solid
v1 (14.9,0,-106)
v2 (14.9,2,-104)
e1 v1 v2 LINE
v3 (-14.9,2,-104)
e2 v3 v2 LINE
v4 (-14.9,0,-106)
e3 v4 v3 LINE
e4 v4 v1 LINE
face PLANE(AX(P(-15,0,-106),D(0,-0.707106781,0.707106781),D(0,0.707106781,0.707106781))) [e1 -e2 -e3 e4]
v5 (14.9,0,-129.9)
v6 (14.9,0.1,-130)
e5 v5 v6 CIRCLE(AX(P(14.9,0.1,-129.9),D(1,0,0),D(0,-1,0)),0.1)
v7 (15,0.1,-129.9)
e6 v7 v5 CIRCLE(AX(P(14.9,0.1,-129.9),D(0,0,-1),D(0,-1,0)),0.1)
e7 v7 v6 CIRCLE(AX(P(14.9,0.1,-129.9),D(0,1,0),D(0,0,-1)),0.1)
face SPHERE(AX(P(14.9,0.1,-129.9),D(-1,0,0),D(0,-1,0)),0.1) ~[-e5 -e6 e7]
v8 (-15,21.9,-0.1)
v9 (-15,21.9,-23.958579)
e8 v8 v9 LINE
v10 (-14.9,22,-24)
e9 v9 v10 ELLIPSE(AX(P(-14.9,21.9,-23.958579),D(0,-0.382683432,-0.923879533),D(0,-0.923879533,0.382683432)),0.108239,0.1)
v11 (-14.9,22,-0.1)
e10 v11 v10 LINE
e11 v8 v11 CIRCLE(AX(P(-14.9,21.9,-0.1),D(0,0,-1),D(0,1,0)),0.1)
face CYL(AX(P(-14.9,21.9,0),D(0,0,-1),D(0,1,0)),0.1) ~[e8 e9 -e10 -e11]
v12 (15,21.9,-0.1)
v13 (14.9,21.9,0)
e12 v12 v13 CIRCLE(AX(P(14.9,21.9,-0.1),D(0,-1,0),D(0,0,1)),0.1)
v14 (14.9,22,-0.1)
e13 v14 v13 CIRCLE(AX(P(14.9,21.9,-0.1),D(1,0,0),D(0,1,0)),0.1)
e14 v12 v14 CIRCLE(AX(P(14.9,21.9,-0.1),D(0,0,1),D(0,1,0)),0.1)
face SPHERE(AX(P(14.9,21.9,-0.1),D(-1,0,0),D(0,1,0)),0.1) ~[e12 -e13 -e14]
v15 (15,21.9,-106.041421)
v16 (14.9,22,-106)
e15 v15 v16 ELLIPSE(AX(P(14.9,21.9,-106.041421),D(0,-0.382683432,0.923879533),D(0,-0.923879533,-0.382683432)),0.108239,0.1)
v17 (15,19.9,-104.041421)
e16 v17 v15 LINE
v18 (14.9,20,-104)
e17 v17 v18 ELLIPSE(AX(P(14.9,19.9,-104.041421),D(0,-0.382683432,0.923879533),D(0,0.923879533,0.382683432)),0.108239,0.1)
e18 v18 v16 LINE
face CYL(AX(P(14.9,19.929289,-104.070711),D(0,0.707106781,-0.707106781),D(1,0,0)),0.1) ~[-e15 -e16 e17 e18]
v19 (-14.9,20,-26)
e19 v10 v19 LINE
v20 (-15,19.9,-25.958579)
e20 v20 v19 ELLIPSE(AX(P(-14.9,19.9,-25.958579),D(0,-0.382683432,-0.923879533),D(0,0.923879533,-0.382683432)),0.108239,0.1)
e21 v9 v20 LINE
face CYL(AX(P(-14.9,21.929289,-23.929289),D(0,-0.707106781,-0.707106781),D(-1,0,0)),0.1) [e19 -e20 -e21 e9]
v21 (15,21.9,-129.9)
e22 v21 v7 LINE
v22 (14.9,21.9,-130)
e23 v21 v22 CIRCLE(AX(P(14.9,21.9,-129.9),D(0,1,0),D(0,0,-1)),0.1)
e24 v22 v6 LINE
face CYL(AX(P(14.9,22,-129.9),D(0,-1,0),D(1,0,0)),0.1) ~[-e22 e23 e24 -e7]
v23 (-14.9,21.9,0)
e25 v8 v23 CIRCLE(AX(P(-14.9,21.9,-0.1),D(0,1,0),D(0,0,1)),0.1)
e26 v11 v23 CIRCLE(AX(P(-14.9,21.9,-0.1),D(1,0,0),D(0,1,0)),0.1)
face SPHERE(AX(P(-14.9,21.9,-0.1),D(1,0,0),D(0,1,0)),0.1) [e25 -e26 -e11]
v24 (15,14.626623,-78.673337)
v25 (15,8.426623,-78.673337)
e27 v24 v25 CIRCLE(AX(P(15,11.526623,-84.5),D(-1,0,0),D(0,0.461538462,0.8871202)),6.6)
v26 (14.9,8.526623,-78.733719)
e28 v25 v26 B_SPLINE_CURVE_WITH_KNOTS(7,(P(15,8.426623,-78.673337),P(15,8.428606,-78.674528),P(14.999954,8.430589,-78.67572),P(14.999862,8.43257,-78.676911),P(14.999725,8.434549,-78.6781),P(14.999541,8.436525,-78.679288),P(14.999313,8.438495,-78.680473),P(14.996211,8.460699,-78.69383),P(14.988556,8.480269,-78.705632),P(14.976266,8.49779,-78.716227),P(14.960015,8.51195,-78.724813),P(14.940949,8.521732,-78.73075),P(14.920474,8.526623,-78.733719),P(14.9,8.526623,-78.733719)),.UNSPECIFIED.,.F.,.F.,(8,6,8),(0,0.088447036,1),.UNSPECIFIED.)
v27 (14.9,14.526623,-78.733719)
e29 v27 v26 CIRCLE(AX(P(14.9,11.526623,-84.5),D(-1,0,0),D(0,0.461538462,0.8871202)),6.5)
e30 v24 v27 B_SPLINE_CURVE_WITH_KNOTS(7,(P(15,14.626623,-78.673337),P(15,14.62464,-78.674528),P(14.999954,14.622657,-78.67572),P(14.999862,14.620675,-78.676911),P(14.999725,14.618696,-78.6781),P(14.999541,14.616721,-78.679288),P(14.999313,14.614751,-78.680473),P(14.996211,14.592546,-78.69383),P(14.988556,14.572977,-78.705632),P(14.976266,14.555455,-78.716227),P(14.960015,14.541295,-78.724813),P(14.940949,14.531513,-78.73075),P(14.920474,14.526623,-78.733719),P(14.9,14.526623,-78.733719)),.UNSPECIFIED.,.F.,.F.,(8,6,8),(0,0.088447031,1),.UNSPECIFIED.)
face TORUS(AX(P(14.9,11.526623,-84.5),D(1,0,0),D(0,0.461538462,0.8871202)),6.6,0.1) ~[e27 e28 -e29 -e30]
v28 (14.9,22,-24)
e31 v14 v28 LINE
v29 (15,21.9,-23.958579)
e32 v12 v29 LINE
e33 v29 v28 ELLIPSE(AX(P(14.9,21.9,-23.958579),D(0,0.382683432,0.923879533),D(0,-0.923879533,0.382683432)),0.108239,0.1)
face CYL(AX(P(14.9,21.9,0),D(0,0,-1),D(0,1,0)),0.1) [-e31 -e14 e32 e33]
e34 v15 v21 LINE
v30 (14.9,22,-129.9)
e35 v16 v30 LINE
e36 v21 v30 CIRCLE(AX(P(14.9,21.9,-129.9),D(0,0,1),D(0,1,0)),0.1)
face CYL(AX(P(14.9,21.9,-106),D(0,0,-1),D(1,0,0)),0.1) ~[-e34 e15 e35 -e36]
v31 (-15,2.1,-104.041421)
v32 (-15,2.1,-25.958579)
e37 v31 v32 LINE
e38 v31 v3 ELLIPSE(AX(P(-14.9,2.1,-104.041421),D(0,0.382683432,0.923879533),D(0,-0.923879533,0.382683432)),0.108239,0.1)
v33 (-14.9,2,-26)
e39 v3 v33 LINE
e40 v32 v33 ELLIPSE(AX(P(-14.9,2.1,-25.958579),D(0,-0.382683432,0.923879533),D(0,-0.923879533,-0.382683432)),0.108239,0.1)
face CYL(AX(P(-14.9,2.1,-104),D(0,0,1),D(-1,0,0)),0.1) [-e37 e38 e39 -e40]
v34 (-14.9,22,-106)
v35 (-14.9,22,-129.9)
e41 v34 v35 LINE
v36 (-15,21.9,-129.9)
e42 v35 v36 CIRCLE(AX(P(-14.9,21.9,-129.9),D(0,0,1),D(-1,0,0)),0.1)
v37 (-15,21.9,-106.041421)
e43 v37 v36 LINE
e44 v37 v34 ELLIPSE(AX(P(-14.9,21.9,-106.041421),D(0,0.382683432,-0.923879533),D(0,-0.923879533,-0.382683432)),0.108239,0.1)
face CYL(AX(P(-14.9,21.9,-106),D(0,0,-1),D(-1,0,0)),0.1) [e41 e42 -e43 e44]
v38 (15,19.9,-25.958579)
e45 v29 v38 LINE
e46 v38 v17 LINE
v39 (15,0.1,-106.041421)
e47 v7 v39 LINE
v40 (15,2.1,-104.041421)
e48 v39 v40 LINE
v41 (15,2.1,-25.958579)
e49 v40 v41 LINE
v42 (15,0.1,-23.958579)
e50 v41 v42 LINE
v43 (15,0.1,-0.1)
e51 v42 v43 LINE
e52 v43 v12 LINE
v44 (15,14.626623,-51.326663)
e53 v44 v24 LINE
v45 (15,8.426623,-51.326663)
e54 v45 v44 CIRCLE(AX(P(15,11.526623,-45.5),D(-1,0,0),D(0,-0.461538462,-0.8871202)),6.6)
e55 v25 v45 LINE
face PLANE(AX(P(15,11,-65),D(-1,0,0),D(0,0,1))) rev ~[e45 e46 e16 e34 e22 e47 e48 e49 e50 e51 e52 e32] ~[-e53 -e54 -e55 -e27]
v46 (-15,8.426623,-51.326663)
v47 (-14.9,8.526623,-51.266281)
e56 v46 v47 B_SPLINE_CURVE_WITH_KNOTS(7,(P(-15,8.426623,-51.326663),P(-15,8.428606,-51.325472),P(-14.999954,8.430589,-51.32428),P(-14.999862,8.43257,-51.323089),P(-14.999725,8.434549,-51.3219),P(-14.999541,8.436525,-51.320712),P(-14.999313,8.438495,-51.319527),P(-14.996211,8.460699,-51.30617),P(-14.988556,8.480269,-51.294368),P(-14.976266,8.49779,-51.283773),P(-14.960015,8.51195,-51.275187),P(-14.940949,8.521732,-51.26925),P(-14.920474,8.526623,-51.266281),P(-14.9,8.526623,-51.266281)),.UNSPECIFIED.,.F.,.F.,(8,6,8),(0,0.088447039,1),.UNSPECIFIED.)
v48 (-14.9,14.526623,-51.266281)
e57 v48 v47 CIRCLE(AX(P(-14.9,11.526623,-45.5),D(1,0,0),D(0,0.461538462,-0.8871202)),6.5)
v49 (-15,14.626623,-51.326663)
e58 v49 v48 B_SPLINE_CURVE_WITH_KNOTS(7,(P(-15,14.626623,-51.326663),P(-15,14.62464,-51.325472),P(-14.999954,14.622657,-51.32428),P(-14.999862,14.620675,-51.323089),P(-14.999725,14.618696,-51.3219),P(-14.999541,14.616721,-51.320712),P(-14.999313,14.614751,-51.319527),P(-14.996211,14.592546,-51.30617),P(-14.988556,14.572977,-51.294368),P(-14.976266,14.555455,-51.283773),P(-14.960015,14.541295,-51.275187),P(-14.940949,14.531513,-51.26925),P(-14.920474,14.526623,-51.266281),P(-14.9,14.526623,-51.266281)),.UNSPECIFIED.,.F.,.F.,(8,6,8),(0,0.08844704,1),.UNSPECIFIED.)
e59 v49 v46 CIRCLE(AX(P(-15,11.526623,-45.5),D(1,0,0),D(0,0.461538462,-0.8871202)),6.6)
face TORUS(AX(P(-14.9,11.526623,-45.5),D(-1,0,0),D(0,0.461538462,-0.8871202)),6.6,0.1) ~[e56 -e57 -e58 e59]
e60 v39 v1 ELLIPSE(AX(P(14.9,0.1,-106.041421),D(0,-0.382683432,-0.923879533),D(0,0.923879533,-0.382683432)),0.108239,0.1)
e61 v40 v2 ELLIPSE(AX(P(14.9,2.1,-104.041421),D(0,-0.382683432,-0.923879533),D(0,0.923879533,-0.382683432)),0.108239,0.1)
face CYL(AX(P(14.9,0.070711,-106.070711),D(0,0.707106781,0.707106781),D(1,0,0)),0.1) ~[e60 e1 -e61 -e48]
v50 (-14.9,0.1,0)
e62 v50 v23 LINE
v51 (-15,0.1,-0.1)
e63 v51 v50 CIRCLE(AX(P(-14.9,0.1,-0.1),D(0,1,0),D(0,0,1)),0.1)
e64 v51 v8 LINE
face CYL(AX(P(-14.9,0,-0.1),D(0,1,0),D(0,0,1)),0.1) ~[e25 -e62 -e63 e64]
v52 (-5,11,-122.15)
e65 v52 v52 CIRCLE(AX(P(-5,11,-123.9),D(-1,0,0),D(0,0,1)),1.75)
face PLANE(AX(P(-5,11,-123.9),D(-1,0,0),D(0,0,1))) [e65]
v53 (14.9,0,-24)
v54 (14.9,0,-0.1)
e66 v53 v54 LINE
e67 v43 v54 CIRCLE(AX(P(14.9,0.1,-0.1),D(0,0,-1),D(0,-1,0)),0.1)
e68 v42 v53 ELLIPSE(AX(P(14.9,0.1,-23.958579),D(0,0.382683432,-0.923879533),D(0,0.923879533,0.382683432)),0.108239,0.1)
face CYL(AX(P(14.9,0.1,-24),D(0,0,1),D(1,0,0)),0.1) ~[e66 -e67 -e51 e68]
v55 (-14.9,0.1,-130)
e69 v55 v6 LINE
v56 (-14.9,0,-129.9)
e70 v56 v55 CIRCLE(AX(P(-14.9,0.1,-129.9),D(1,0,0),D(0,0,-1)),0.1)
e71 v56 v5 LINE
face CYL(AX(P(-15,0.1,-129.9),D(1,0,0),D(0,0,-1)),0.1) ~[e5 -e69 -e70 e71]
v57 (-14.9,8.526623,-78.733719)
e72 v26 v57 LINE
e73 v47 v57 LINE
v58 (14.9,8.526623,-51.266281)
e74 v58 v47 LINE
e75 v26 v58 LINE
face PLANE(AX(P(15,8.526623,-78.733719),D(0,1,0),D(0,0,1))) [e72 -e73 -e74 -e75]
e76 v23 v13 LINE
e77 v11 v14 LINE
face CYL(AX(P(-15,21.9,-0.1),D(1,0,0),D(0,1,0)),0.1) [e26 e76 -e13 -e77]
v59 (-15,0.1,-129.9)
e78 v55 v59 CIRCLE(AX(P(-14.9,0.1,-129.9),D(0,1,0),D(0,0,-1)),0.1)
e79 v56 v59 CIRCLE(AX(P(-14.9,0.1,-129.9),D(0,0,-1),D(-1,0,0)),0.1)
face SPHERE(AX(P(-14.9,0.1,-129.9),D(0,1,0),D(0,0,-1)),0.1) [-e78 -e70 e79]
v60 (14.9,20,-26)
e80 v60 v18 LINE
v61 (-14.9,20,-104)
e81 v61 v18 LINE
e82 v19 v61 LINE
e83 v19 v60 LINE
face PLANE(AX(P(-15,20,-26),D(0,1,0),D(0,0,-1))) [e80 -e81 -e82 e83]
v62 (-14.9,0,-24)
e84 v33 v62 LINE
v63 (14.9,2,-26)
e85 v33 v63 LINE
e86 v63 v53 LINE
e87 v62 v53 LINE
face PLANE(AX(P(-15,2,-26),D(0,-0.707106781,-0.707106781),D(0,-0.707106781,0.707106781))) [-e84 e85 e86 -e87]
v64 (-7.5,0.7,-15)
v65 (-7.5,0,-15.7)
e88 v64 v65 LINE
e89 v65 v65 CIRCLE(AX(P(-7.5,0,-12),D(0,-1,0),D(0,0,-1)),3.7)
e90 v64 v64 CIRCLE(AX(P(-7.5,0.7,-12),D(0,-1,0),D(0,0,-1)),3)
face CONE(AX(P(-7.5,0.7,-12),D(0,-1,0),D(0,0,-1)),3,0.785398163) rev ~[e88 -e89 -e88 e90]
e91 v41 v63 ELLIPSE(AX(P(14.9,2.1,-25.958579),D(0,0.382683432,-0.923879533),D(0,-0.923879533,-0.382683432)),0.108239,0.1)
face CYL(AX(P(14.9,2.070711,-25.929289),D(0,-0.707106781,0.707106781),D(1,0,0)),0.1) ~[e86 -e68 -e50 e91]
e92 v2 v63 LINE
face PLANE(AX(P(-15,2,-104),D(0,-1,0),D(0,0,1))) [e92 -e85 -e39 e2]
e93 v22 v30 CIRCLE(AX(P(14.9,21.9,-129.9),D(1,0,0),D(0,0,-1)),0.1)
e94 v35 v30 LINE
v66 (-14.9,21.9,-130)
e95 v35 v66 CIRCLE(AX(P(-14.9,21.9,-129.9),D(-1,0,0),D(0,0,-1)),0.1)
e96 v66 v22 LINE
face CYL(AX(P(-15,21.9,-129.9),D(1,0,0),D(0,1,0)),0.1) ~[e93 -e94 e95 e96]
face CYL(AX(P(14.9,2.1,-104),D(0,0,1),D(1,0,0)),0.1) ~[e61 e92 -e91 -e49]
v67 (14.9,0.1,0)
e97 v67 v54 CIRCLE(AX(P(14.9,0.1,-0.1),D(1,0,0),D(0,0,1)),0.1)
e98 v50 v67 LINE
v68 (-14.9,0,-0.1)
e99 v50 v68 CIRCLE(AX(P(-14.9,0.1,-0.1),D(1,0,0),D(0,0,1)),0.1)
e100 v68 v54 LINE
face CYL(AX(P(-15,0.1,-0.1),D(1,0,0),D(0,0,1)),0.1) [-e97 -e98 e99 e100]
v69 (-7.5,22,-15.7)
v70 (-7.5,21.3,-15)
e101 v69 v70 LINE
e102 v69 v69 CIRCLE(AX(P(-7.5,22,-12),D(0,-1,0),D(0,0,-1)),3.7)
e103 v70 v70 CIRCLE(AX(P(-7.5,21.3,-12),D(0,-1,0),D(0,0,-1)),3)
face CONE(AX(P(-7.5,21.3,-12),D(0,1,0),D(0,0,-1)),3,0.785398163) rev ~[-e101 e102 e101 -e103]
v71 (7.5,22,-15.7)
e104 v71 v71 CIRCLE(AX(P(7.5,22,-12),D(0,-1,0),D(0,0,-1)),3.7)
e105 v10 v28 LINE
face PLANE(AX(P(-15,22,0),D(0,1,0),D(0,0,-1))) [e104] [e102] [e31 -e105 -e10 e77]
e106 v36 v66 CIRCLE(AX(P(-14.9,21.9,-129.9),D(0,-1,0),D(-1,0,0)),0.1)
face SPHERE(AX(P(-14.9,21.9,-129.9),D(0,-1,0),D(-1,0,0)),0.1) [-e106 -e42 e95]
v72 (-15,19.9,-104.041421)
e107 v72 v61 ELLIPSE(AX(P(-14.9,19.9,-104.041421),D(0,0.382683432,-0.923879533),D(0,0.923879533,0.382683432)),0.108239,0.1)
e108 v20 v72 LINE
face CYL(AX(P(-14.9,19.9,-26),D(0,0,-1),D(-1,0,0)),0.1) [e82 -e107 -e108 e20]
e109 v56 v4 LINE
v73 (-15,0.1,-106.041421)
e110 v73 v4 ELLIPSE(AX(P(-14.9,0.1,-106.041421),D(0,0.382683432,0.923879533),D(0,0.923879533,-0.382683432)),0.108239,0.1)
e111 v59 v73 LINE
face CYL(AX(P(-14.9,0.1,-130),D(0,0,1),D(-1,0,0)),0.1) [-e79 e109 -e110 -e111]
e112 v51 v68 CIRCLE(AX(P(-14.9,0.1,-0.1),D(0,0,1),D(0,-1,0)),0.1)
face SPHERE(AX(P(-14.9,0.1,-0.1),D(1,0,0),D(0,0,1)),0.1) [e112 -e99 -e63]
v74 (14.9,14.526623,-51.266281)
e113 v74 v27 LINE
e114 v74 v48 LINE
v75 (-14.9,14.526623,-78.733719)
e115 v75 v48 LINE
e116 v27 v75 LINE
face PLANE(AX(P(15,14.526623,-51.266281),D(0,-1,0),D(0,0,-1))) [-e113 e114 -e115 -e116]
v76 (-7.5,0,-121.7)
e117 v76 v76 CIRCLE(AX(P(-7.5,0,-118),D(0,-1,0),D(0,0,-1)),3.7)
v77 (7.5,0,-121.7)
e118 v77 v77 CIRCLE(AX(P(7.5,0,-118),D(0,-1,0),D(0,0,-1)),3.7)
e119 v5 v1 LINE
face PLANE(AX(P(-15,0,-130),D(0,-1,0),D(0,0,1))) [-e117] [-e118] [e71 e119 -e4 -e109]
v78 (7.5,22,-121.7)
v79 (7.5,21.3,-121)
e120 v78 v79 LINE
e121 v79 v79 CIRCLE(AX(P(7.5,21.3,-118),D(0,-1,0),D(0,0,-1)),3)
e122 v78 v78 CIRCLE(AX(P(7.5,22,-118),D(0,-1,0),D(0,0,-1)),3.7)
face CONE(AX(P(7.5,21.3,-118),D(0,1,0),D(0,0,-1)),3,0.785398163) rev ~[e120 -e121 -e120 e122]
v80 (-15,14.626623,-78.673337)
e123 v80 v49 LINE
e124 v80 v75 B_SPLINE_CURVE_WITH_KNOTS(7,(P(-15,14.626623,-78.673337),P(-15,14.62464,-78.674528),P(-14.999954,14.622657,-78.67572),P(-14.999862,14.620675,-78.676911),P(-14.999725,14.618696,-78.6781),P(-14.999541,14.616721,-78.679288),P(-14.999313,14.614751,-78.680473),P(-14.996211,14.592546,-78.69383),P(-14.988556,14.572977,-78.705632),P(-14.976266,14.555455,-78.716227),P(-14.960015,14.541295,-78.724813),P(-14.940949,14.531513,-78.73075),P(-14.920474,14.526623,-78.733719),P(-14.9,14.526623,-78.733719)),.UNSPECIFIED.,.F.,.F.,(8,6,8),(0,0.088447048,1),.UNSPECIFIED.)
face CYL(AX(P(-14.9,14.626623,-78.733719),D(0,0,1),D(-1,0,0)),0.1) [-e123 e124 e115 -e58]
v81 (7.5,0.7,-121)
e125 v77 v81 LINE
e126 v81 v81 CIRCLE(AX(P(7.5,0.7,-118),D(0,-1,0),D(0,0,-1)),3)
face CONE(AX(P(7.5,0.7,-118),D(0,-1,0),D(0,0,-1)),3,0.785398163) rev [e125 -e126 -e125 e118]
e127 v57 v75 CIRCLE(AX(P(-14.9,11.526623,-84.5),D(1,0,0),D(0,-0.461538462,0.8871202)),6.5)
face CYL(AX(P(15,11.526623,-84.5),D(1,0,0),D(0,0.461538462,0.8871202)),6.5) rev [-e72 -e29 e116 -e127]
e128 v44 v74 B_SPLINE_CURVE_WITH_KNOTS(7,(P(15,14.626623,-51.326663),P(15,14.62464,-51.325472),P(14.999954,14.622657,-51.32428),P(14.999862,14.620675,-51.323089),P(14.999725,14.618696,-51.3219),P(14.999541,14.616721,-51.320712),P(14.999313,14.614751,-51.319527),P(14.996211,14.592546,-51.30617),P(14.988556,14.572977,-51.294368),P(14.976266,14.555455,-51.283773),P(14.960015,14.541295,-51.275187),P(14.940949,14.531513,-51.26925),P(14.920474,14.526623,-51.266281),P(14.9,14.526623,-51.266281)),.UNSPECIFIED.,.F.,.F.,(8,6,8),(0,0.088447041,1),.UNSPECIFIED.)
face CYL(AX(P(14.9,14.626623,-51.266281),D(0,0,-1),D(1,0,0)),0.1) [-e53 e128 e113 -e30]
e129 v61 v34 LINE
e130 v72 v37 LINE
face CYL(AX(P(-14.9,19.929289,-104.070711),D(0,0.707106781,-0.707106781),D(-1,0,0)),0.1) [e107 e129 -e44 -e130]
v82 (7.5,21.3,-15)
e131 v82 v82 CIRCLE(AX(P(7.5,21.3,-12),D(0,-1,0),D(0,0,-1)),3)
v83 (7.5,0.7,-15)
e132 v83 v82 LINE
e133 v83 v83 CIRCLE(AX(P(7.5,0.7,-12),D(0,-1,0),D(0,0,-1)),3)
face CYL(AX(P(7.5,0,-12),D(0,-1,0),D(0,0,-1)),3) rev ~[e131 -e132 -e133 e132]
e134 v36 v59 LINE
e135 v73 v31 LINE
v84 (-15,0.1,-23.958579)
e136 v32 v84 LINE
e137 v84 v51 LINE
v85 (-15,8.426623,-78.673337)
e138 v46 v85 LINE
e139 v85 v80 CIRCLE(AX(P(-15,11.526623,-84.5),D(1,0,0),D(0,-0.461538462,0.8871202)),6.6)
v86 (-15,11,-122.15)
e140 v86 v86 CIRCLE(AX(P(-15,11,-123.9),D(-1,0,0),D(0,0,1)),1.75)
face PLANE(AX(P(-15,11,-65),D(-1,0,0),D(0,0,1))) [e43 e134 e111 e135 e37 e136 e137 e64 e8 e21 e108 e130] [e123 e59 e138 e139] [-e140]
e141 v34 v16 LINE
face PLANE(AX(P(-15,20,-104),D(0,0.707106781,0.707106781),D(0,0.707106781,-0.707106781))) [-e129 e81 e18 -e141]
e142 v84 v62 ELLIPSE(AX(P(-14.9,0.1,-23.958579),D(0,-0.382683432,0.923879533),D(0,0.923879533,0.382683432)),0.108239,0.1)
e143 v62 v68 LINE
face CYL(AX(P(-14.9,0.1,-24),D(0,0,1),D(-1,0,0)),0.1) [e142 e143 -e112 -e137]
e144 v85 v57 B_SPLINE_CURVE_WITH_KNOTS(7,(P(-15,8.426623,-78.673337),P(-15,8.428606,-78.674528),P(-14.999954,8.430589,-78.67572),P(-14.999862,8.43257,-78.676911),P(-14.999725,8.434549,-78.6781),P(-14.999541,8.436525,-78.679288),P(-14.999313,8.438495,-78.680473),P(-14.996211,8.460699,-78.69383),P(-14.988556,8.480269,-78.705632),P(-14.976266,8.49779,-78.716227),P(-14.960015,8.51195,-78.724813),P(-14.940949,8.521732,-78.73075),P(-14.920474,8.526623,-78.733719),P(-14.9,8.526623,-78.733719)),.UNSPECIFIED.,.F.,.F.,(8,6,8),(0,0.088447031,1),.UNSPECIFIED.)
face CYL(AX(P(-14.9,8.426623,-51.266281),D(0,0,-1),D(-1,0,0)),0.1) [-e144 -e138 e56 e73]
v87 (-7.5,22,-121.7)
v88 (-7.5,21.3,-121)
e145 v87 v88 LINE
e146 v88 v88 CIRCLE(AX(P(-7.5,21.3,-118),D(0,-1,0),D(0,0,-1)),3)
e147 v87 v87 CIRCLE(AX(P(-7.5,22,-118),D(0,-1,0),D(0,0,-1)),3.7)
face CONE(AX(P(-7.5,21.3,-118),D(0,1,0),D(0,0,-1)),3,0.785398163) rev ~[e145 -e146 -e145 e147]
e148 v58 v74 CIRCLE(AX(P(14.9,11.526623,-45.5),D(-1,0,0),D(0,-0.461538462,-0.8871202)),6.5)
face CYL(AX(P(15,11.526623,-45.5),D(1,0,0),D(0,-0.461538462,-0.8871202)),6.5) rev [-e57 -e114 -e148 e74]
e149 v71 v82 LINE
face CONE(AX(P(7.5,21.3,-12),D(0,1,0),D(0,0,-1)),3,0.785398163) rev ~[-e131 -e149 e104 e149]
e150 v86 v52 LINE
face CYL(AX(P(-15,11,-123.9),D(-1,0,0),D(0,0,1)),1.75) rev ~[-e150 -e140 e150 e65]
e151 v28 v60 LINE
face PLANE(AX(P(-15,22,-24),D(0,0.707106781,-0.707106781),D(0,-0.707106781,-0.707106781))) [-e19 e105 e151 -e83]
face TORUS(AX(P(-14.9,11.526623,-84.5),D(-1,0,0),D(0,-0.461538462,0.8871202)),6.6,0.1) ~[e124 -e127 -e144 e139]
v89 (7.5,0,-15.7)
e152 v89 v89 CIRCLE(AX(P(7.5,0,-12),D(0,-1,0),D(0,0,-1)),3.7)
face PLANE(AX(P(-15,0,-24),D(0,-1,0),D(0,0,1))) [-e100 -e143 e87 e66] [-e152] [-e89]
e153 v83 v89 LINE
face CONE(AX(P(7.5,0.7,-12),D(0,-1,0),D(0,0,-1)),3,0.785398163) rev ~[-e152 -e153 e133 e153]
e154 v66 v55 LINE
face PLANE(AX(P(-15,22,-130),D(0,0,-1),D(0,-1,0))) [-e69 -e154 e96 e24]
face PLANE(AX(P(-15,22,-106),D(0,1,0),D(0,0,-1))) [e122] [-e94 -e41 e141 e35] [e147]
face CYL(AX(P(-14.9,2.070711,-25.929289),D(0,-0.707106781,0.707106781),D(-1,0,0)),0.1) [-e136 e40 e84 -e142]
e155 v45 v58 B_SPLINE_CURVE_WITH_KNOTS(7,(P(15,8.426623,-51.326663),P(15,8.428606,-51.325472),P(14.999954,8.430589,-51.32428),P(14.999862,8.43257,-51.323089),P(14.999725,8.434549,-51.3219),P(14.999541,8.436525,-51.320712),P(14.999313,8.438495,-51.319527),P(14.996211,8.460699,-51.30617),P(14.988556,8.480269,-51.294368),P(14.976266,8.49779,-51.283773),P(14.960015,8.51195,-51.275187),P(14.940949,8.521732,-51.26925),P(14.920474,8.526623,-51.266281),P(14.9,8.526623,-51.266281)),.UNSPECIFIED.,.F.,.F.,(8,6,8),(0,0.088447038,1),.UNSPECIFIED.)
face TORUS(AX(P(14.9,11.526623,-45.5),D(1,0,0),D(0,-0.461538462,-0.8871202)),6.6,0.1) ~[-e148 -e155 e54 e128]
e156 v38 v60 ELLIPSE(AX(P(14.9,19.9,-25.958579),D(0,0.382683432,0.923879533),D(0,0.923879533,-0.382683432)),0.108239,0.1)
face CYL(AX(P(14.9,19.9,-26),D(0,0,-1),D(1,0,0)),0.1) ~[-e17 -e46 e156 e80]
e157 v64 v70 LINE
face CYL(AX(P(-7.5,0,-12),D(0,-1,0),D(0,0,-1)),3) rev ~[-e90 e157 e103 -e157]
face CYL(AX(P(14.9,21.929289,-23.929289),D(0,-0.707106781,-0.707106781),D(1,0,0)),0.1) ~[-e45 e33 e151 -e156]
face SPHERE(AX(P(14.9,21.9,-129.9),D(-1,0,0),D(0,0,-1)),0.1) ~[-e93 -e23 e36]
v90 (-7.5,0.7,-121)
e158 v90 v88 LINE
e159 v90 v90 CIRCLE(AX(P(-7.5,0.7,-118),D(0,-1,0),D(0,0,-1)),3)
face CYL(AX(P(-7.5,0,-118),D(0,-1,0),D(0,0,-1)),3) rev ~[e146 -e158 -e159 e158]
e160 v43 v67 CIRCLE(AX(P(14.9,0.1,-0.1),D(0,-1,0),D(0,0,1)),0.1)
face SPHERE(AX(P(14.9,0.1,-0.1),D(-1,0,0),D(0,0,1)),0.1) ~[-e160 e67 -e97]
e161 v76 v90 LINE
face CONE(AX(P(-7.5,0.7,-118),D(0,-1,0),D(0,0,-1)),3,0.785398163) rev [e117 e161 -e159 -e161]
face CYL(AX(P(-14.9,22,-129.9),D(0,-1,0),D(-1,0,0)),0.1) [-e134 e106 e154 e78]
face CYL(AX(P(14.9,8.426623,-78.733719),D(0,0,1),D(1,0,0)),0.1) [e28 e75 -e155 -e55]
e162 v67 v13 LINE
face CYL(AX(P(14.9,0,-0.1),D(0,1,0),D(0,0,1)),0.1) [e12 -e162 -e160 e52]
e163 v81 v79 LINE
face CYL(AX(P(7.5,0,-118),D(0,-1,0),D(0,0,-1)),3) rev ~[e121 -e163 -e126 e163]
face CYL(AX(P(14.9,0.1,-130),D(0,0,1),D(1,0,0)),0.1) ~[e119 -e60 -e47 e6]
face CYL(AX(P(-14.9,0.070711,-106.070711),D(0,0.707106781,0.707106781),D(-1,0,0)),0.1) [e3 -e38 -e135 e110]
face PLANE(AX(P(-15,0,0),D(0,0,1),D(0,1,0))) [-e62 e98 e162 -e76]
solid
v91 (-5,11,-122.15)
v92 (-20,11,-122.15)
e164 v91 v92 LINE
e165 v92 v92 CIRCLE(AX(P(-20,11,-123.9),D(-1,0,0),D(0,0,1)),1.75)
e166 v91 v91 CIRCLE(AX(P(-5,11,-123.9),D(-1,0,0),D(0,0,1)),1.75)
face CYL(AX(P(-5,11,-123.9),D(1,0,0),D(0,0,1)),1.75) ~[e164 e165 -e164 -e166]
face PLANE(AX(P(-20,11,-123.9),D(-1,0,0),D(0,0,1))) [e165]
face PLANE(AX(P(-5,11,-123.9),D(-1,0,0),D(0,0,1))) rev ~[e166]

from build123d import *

# Parameters (mm, degrees)
EXTRUDE_1_DEPTH      = 15
EXTRUDE_1_DEPTH_BACK = 15
CUT_EXTRUDE_1_DEPTH  = 45
SKETCH_12_R          = 3
CUT_EXTRUDE_2_DEPTH  = 40
CHAMFER_1_SIZE       = 0.7
FILLET_1_R           = 0.1
SKETCH_13_R          = 1.75
CUT_EXTRUDE_3_DEPTH  = 10
SKETCH_15_R          = 1.75
EXTRUDE_2_DEPTH      = 15


with BuildPart() as part:
    # Эскиз1 → Бобышка-Вытянуть1 (new, two sides: drawn at the far end of the back side and taken through both)
    with BuildSketch(Plane(origin=(0, 0, 0), x_dir=(0, 0, -1), z_dir=(1, 0, 0)).offset(-EXTRUDE_1_DEPTH_BACK)):
        Polygon((24, 22), (26, 20), (104, 20), (106, 22), (130, 22), (130, 0), (106, 0), (104, 2), (26, 2), (24, 0), (0, 0), (0, 22), align=None)
    extrude(amount=EXTRUDE_1_DEPTH + EXTRUDE_1_DEPTH_BACK)

    # Эскиз2 → Вырез-Вытянуть1 (cut)
    with BuildSketch(Plane(origin=(15, 0, 0), x_dir=(0, 0, -1), z_dir=(1, 0, 0))):
        with BuildLine():
            Line((51.266281297, 14.526622722), (78.733718703, 14.526622722))
            ThreePointArc((78.733718703, 14.526622722), (91, 11.526622722), (78.733718703, 8.526622722))
            Line((78.733718703, 8.526622722), (51.266281297, 8.526622722))
            ThreePointArc((51.266281297, 8.526622722), (39, 11.526622722), (51.266281297, 14.526622722))
        make_face()
    extrude(amount=-CUT_EXTRUDE_1_DEPTH, mode=Mode.SUBTRACT)

    # Эскиз12 → Вырез-Вытянуть2 (cut)
    with BuildSketch(Plane.XZ):
        with Locations((7.5, -118)):
            Circle(SKETCH_12_R)
        with Locations((-7.5, -118)):
            Circle(SKETCH_12_R)
        with Locations((7.5, -12)):
            Circle(SKETCH_12_R)
        with Locations((-7.5, -12)):
            Circle(SKETCH_12_R)
    extrude(amount=-CUT_EXTRUDE_2_DEPTH, mode=Mode.SUBTRACT)

    # Фаска1
    chamfer_1_edges = [part.edges().sort_by_distance(p)[0] for p in [
        (-10.5, 0, -118),
        (-10.5, 22, -118),
        (4.5, 0, -118),
        (4.5, 22, -118),
        (4.5, 0, -12),
        (4.5, 22, -12),
        (-10.5, 0, -12),
        (-10.5, 22, -12),
    ]]
    chamfer(chamfer_1_edges, length=CHAMFER_1_SIZE)

    # Скругление1
    fillet_1_edges = [part.edges().sort_by_distance(p)[0] for p in [
        (-15, 0, -118),
        (-15, 22, -118),
        (-15, 21, -105),
        (-15, 20, -65),
        (-15, 21, -25),
        (-15, 22, -12),
        (-15, 0, -12),
        (-15, 1, -25),
        (-15, 2, -65),
        (-15, 1, -105),
        (-15, 11.526622722, -39),
        (-15, 14.526622722, -65),
        (-15, 11.526622722, -91),
        (-15, 8.526622722, -65),
        (-15, 11, -130),
        (0, 0, -130),
        (0, 22, -130),
        (-15, 11, 0),
        (0, 22, 0),
        (0, 0, 0),
        (15, 2, -65),
        (15, 1, -25),
        (15, 0, -12),
        (15, 11, 0),
        (15, 22, -12),
        (15, 21, -25),
        (15, 20, -65),
        (15, 21, -105),
        (15, 22, -118),
        (15, 11, -130),
        (15, 0, -118),
        (15, 1, -105),
        (15, 14.526622722, -65),
        (15, 11.526622722, -39),
        (15, 8.526622722, -65),
        (15, 11.526622722, -91),
    ]]
    fillet(fillet_1_edges, radius=FILLET_1_R)

    # Эскиз13 → Вырез-Вытянуть3 (cut)
    with BuildSketch(Plane.ZY.offset(15)):
        with Locations((-123.9, 11)):
            Circle(SKETCH_13_R)
    extrude(amount=-CUT_EXTRUDE_3_DEPTH, mode=Mode.SUBTRACT)


with BuildPart() as body_2:
    # Эскиз15 → Бобышка-Вытянуть2 (new body)
    with BuildSketch(Plane.ZY.offset(5)):
        with Locations((-123.9, 11)):
            Circle(SKETCH_15_R)
    extrude(amount=EXTRUDE_2_DEPTH)


solid = Compound([part.part, body_2.part])
